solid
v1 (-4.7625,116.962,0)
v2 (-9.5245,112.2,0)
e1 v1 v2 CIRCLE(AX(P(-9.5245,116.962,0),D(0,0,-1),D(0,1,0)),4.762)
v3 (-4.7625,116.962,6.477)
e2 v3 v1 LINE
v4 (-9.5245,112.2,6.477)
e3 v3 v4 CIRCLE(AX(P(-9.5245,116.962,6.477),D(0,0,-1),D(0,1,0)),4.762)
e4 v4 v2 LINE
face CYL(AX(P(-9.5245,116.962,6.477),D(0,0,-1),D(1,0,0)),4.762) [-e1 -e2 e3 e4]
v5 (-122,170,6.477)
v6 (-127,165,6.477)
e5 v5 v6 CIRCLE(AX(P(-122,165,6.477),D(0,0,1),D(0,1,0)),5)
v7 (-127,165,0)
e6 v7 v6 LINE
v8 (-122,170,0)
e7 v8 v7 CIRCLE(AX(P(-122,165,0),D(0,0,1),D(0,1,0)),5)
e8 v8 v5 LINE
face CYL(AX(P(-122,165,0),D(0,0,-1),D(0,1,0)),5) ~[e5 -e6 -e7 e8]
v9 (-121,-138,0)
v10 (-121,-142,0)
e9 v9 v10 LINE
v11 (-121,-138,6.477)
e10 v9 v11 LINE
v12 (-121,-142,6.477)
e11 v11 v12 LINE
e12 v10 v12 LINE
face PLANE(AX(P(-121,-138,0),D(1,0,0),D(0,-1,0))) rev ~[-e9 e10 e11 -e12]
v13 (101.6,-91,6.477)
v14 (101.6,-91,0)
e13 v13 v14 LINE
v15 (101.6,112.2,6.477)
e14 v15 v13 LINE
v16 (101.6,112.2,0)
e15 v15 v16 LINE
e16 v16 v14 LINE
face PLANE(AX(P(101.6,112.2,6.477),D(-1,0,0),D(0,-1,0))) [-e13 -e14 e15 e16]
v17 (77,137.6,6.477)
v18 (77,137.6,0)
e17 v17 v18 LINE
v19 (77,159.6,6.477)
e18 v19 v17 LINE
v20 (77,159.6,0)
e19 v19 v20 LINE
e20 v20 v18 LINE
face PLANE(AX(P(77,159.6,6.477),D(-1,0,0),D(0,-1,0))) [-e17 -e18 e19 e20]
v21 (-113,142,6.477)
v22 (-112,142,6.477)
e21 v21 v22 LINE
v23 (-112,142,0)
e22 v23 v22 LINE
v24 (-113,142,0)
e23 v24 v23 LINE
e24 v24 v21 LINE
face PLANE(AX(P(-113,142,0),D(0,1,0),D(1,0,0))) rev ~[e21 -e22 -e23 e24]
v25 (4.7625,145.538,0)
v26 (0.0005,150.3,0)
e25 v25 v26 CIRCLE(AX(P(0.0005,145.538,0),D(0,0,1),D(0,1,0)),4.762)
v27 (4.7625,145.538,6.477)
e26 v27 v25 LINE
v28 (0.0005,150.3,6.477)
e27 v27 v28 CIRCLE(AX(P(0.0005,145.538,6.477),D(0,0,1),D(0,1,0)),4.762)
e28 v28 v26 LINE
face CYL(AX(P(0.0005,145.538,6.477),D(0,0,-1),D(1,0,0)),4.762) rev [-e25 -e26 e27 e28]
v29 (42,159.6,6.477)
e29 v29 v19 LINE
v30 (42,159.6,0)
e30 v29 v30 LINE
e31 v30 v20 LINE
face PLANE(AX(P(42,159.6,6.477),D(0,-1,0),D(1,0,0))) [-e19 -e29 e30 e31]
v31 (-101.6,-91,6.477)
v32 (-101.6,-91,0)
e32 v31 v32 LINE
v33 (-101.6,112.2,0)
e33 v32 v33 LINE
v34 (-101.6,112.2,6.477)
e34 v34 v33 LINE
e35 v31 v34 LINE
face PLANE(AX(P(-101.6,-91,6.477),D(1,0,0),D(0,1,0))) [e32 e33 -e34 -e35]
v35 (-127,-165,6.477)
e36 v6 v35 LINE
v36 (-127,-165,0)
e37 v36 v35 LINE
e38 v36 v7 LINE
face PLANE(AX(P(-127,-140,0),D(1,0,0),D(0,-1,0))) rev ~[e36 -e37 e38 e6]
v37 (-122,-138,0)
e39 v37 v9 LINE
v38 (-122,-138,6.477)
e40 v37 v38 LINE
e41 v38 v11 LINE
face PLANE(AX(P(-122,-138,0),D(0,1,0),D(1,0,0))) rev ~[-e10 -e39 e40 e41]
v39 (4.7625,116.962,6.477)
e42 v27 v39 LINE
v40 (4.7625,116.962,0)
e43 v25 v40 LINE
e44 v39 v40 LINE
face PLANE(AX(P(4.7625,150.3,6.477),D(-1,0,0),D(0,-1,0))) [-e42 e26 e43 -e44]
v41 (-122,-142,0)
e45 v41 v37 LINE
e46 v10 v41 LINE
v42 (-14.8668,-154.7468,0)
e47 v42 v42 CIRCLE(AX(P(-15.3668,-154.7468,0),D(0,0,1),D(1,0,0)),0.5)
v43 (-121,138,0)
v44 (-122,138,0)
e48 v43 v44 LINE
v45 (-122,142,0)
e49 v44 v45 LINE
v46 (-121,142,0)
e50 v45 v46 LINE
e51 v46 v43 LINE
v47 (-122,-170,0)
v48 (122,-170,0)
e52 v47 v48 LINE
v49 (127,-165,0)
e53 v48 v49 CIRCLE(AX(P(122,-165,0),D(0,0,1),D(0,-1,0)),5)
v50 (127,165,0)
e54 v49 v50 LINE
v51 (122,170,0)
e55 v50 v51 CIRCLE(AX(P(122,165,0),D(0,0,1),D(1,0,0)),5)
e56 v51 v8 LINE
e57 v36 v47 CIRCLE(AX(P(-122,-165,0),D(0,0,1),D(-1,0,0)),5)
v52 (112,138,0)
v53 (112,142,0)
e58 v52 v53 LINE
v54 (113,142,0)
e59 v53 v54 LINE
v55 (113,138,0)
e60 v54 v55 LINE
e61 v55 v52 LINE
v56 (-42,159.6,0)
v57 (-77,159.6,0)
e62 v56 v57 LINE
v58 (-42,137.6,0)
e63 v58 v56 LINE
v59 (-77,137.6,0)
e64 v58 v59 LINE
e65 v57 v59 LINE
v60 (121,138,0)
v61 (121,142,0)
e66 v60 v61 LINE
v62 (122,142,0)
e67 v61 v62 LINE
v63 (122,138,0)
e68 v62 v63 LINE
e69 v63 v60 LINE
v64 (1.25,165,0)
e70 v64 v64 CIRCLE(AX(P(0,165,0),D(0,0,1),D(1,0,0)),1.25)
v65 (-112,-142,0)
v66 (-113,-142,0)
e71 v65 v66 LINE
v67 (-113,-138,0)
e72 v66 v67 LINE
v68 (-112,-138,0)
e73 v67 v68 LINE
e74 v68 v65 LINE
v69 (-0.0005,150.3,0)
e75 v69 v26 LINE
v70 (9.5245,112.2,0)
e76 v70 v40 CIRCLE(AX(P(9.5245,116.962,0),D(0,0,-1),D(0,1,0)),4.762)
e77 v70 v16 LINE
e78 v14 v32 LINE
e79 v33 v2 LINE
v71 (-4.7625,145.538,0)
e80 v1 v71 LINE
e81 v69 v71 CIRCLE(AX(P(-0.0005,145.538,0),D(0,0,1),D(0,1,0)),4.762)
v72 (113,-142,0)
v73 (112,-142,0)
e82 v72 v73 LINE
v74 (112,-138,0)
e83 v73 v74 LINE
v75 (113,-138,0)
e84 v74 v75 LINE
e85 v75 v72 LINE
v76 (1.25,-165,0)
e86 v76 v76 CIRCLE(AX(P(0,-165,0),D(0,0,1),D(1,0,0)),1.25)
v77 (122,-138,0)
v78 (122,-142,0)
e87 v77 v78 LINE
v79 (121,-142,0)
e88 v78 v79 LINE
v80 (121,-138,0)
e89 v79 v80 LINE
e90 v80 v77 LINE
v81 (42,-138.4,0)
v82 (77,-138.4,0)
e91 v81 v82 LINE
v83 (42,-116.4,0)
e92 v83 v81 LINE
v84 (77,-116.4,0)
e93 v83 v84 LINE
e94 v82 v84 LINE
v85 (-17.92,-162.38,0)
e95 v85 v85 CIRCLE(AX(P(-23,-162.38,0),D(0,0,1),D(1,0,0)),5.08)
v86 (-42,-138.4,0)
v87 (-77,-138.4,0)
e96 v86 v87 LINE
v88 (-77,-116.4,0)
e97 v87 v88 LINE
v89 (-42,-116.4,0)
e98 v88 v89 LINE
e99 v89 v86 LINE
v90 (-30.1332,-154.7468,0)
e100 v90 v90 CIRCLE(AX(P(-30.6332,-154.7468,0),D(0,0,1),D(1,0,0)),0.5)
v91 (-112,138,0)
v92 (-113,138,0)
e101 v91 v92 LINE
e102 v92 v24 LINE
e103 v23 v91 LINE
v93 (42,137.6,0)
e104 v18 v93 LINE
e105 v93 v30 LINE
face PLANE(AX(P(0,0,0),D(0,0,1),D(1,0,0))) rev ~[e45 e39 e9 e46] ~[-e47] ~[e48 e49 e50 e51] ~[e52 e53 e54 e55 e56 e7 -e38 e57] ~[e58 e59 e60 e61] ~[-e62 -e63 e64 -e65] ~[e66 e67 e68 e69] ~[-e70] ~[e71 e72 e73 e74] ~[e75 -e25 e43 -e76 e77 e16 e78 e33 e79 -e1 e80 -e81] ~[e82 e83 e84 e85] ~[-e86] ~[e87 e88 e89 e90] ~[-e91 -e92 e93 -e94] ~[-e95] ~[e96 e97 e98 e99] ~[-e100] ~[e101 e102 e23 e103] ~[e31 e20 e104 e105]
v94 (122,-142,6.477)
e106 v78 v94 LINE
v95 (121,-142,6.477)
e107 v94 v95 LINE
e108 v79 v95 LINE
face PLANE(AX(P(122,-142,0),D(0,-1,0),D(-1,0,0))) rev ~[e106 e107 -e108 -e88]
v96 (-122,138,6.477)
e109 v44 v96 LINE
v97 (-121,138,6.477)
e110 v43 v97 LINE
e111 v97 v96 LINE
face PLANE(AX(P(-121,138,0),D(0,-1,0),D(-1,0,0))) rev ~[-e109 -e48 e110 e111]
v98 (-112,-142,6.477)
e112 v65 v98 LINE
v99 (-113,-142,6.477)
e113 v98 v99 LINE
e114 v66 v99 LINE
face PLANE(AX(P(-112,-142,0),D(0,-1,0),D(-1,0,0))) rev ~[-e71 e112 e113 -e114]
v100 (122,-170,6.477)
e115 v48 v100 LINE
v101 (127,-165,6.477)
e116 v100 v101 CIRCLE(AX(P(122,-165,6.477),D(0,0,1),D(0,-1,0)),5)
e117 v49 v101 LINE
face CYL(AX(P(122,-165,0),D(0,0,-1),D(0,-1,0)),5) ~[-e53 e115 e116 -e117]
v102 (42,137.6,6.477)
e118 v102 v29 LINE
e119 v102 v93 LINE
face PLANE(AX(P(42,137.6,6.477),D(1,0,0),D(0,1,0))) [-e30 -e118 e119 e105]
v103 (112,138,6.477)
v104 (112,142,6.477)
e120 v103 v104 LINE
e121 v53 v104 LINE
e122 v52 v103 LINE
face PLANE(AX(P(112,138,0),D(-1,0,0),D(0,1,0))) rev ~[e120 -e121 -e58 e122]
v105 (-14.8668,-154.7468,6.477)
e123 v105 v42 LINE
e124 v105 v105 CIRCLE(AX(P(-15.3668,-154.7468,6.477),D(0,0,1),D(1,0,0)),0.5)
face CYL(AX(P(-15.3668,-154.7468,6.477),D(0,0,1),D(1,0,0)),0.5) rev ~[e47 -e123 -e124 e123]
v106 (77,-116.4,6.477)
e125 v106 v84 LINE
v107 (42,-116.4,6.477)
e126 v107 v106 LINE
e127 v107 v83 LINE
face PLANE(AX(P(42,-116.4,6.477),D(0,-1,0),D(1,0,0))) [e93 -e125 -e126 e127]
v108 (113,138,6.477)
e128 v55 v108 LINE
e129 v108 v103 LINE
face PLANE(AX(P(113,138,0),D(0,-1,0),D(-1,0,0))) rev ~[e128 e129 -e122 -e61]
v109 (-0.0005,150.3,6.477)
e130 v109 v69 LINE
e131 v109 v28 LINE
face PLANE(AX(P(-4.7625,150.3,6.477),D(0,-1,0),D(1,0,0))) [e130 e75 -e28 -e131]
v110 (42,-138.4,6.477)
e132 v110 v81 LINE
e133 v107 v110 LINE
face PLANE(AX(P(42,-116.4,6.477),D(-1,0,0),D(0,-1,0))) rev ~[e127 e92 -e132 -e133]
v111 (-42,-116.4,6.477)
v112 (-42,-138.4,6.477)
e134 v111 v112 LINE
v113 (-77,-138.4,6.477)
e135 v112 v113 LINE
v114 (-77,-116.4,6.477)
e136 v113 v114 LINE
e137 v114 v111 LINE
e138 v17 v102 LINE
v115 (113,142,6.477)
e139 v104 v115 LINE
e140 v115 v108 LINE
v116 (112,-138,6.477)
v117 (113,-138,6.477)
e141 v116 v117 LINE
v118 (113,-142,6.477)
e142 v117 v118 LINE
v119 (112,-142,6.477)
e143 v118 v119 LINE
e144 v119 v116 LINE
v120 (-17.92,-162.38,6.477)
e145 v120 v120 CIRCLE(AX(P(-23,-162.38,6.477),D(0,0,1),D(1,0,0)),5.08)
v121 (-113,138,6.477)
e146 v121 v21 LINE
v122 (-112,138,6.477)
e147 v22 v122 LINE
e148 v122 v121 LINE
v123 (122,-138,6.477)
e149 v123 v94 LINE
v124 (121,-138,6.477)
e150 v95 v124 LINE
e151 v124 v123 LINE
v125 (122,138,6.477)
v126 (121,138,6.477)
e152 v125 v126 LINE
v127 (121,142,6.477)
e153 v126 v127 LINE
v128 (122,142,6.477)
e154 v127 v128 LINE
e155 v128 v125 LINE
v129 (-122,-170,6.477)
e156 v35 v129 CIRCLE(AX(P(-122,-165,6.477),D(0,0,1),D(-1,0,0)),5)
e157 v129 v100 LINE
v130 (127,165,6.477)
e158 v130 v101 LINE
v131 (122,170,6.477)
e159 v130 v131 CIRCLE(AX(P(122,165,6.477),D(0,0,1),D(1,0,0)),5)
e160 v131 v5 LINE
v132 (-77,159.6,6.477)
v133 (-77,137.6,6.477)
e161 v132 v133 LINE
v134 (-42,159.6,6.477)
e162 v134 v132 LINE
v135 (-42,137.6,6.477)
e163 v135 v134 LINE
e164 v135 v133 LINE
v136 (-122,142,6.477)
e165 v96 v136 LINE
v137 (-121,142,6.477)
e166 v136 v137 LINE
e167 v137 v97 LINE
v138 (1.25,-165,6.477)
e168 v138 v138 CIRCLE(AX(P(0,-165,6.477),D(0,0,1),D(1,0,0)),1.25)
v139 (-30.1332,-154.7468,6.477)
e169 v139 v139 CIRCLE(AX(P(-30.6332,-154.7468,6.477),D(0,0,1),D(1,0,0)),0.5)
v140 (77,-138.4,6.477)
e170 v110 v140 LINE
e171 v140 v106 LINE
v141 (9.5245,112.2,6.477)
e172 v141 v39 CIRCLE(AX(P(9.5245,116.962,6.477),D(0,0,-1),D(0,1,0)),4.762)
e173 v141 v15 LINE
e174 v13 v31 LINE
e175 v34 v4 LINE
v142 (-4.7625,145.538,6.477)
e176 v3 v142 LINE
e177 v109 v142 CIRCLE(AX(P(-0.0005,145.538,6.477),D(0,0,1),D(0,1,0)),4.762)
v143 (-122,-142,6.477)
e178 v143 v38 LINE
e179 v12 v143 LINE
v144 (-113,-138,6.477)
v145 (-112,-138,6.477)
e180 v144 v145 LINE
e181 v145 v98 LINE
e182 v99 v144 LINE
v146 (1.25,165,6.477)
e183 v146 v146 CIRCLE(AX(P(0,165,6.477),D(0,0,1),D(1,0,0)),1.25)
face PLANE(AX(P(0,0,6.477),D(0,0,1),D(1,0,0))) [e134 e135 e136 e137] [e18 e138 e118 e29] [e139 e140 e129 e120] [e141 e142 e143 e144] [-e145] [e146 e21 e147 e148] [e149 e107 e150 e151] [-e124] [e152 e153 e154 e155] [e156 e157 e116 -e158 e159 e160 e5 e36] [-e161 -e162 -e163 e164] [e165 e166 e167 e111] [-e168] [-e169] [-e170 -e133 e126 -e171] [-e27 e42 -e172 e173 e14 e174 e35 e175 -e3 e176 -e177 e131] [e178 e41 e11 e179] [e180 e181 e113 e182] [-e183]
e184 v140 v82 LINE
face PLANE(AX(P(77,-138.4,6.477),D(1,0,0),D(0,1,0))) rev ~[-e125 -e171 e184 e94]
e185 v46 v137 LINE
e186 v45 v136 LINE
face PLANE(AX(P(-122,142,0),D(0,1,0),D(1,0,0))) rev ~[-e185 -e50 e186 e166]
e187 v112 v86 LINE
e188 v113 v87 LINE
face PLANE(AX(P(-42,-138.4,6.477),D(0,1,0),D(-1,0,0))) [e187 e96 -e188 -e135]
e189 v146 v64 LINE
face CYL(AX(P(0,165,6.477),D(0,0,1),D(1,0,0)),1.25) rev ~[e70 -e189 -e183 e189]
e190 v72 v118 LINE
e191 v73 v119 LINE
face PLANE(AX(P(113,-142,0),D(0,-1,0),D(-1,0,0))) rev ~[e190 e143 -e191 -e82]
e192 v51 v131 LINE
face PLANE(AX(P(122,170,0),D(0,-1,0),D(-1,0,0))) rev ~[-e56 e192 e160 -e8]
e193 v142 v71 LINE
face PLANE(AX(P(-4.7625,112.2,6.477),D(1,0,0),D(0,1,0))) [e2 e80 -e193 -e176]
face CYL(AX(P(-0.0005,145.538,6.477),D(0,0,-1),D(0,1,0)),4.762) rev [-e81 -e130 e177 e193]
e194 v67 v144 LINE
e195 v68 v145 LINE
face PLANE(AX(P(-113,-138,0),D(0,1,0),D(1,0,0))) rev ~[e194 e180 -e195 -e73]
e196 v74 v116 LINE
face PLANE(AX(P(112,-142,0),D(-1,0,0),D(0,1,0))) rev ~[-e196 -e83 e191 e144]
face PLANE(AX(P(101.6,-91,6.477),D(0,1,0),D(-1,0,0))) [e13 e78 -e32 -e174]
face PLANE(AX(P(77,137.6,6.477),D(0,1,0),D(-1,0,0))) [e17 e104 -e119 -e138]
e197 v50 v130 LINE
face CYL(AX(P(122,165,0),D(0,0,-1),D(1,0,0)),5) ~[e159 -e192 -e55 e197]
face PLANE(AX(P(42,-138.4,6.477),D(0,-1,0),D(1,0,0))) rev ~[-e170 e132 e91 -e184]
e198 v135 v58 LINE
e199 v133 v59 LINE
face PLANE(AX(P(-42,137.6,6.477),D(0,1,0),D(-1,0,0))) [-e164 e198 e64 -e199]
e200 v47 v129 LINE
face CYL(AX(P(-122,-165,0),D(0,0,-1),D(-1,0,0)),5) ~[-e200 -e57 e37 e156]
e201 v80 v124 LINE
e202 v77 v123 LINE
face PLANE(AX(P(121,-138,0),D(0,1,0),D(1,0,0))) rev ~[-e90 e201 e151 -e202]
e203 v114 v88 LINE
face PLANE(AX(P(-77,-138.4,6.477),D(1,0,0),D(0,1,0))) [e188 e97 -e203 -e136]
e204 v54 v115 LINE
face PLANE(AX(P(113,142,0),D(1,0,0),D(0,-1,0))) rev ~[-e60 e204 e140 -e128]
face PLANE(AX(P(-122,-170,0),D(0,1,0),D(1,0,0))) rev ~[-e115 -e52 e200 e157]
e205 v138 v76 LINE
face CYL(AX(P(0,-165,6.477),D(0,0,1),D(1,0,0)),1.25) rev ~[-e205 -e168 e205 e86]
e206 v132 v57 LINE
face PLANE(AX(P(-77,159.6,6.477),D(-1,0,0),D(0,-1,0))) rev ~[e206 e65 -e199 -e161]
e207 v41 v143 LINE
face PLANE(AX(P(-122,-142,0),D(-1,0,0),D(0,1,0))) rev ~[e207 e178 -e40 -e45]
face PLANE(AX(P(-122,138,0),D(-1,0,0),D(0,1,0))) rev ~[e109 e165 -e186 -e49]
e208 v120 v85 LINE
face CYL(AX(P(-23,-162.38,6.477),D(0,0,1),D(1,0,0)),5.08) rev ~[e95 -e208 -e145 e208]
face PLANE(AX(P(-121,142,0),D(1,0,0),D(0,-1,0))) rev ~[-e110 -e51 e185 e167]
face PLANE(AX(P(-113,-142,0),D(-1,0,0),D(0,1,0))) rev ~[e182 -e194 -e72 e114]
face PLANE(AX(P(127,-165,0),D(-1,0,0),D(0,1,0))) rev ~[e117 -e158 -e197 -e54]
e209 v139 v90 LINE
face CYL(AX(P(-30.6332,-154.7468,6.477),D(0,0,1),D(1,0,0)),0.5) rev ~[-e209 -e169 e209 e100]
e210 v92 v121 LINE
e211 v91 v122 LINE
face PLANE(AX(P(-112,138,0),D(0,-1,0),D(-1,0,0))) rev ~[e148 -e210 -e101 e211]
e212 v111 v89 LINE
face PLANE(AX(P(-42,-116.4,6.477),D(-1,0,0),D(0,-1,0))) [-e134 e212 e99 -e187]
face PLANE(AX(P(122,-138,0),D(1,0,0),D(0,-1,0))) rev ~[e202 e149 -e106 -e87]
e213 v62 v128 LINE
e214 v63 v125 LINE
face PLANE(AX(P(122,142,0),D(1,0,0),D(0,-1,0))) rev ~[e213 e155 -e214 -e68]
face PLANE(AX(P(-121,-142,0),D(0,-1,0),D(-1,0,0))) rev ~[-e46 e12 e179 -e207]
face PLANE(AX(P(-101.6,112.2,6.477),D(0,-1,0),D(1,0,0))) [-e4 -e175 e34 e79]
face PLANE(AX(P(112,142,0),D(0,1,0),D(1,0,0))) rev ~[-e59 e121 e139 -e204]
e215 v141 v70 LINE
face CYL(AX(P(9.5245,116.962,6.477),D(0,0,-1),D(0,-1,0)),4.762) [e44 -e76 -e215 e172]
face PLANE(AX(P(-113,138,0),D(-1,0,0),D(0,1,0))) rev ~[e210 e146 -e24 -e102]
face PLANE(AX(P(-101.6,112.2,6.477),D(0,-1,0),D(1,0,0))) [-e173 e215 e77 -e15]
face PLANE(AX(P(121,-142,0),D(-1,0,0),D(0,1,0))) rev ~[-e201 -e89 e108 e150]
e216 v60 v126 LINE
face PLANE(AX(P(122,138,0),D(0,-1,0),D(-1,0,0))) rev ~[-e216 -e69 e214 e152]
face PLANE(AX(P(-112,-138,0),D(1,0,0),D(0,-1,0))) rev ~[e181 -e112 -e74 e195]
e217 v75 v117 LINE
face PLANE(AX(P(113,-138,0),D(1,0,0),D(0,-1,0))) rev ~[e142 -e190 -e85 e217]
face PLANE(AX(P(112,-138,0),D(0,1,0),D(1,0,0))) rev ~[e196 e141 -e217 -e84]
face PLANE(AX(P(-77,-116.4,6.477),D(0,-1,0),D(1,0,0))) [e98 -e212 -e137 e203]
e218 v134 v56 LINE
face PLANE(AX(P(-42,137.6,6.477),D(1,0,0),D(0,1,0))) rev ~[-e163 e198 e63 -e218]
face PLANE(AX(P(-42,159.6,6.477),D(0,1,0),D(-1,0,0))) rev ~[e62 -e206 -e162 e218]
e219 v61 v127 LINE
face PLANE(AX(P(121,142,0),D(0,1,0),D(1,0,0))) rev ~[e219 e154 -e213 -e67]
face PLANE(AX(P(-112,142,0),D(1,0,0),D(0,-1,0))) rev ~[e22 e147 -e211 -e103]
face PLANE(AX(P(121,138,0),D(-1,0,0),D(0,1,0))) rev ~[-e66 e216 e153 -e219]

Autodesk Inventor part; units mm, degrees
ref_plane "YZ Plane" through (0, 0, 0) normal (1, 0, 0) x (0, 1, 0)
ref_plane "XZ Plane" through (0, 0, 0) normal (0, 1, 0) x (-1, 0, 0)
ref_plane "XY Plane" through (0, 0, 0) normal (0, 0, 1) x (1, 0, 0)
sketch "Sketch1" plane through (0, 0, 0) normal (0, 0, 1) x (1, 0, 0)
  arc A0 (127, -140) -> (122, -135) centre (122, -140) ccw projected
  line L0 (122, -135) -> (119.8284, -135) projected
  line L1 (119.8284, -135) -> (119.8284, -145) projected
  line L2 (119.8284, -145) -> (114.1716, -145) projected
  line L3 (114.1716, -145) -> (114.1716, -135) projected
  line L4 (114.1716, -135) -> (109.5, -135) projected
  arc A1 (107, -132.5) -> (109.5, -135) centre (109.5, -132.5) ccw projected
  line L5 (107, -132.5) -> (107, 132.5) projected
  arc A2 (109.5, 135) -> (107, 132.5) centre (109.5, 132.5) ccw projected
  line L6 (109.5, 135) -> (114.1716, 135) projected
  line L7 (114.1716, 135) -> (114.1716, 145) projected
  line L8 (114.1716, 145) -> (119.8284, 145) projected
  line L9 (119.8284, 145) -> (119.8284, 135) projected
  line L10 (119.8284, 135) -> (122, 135) projected
  arc A3 (122, 135) -> (127, 140) centre (122, 140) ccw projected
  line L11 (127, 140) -> (127, 165) projected
  arc A4 (127, 165) -> (122, 170) centre (122, 165) ccw projected
  line L12 (122, 170) -> (-122, 170) projected
  arc A5 (-122, 170) -> (-127, 165) centre (-122, 165) ccw projected
  line L13 (-127, 165) -> (-127, 140) projected
  arc A6 (-127, 140) -> (-122, 135) centre (-122, 140) ccw projected
  line L14 (-122, 135) -> (-119.8284, 135) projected
  line L15 (-119.8284, 135) -> (-119.8284, 145) projected
  line L16 (-119.8284, 145) -> (-114.1716, 145) projected
  line L17 (-114.1716, 145) -> (-114.1716, 135) projected
  line L18 (-114.1716, 135) -> (-109.5, 135) projected
  arc A7 (-107, 132.5) -> (-109.5, 135) centre (-109.5, 132.5) ccw projected
  line L19 (-107, 132.5) -> (-107, -132.5) projected
  arc A8 (-109.5, -135) -> (-107, -132.5) centre (-109.5, -132.5) ccw projected
  line L20 (-109.5, -135) -> (-114.1716, -135) projected
  line L21 (-114.1716, -135) -> (-114.1716, -145) projected
  line L22 (-114.1716, -145) -> (-119.8284, -145) projected
  line L23 (-119.8284, -145) -> (-119.8284, -135) projected
  line L24 (-119.8284, -135) -> (-122, -135) projected
  arc A9 (-122, -135) -> (-127, -140) centre (-122, -140) ccw projected
  line L25 (-127, -140) -> (-127, -165) projected
  arc A10 (-127, -165) -> (-122, -170) centre (-122, -165) ccw projected
  line L26 (-122, -170) -> (122, -170) projected
  arc A11 (122, -170) -> (127, -165) centre (122, -165) ccw projected
  line L27 (127, -165) -> (127, -140) projected
  line L28 (113, -142) -> (112, -142) projected
  line L29 (112, -142) -> (112, -138) projected
  line L30 (112, -138) -> (113, -138) projected
  line L31 (113, -138) -> (113, -142) projected
  line L32 (121, -142) -> (121, -138) projected
  line L33 (121, -138) -> (122, -138) projected
  line L34 (122, -138) -> (122, -142) projected
  line L35 (122, -142) -> (121, -142) projected
  line L36 (-112, -142) -> (-113, -142) projected
  line L37 (-113, -142) -> (-113, -138) projected
  line L38 (-113, -138) -> (-112, -138) projected
  line L39 (-112, -138) -> (-112, -142) projected
  line L40 (-121, -138) -> (-121, -142) projected
  line L41 (-121, -142) -> (-122, -142) projected
  line L42 (-122, -142) -> (-122, -138) projected
  line L43 (-122, -138) -> (-121, -138) projected
  line L44 (112, 142) -> (113, 142) projected
  line L45 (113, 142) -> (113, 138) projected
  line L46 (113, 138) -> (112, 138) projected
  line L47 (112, 138) -> (112, 142) projected
  line L48 (121, 138) -> (121, 142) projected
  line L49 (121, 142) -> (122, 142) projected
  line L50 (122, 142) -> (122, 138) projected
  line L51 (122, 138) -> (121, 138) projected
  line L52 (-122, 138) -> (-122, 142) projected
  line L53 (-122, 142) -> (-121, 142) projected
  line L54 (-121, 142) -> (-121, 138) projected
  line L55 (-121, 138) -> (-122, 138) projected
  line L56 (-112, 142) -> (-112, 138) projected
  line L57 (-112, 138) -> (-113, 138) projected
  line L58 (-113, 138) -> (-113, 142) projected
  line L59 (-113, 142) -> (-112, 142) projected
  line L60 (-127, 140) -> (-127, -140)
  line L61 (127, -140) -> (127, 140)
  arc A12 (20.5, 83.5) -> (-1.5, 83.5) centre (9.5, 83.5) ccw projected
  line L62 (20.5, 83.5) -> (20.5, -116.5) projected
  arc A13 (-1.5, -116.5) -> (20.5, -116.5) centre (9.5, -116.5) ccw projected
  line L63 (-1.5, -116.5) -> (-1.5, 83.5) projected
  line L64 (42, -96.4) -> (77, -96.4) projected
  line L65 (77, -96.4) -> (77, -138.4) projected
  line L66 (77, -138.4) -> (42, -138.4) projected
  line L67 (42, -138.4) -> (42, -96.4) projected
  line L68 (77, 117.6) -> (42, 117.6) projected
  line L69 (42, 117.6) -> (42, 159.6) projected
  line L70 (42, 159.6) -> (77, 159.6) projected
  line L71 (77, 159.6) -> (77, 117.6) projected
  line L72 (-77, -96.4) -> (-42, -96.4) projected
  line L73 (-42, -96.4) -> (-42, -138.4) projected
  line L74 (-42, -138.4) -> (-77, -138.4) projected
  line L75 (-77, -138.4) -> (-77, -96.4) projected
  line L76 (-42, 117.6) -> (-77, 117.6) projected
  line L77 (-77, 117.6) -> (-77, 159.6) projected
  line L78 (-77, 159.6) -> (-42, 159.6) projected
  line L79 (-42, 159.6) -> (-42, 117.6) projected
  circle A14 centre (0, 165) radius 1.25 projected
  circle A15 centre (0, -165) radius 1.25 projected
  circle A16 centre (-23, -162.38) radius 3.175 projected
  circle A17 centre (-30.6332, -154.7468) radius 0.5 projected
  circle A18 centre (-15.3668, -154.7468) radius 0.5 projected
  point P0 (0, 0)
extrude "Extrusion1" add sketch "Sketch1" along normal blind 6.477 contours L27 A11 L26 A10 L25 A9 L24 L23 L22 L21 L20 A8 L19 A7 L18 L17 L16 L15 L14 A6 L13 A5 L12 A4 L11 A3 L10 L9 L8 L7 L6 A2 L5 A1 L4 L3 L2 L1 L0 A0 | A0 L0 L1 L2 L3 L4 A1 L5 A2 L6 L7 L8 L9 L10 A3 L61 | L60 A6 L14 L15 L16 L17 L18 A7 L19 A8 L20 L21 L22 L23 L24 A9 | L62 A13 L63 A12 | L64 L65 L66 L67 | L68 L69 L70 L71 | L72 L73 L74 L75 | L76 L77 L78 L79 | A14 | A15 | A16 | A17 | A18
sketch "Sketch2" plane through (0, 0, 6.477) normal (0, 0, 1) x (1, 0, 0)
  line L0 (-122, -170) -> (122, -170) projected
  line L1 (-101.6, 112.2) -> (101.6, 112.2)
  line L2 (101.6, 112.2) -> (101.6, -91)
  line L3 (101.6, -91) -> (-101.6, -91)
  line L4 (-101.6, -91) -> (-101.6, 112.2)
  point P0 (0, 0)
  point P1 (0, -91)
  dimension "d2" = 203.2
  dimension "d4" = 79
extrude "Extrusion2" cut sketch "Sketch2" against normal through all
sketch "Sketch3" plane through (0, 0, 6.477) normal (0, 0, 1) x (1, 0, 0)
  line L0 (-127, 165) -> (-127, -165) projected
  line L1 (127, 137.6) -> (-127, 137.6) projected
  line L2 (-127, -116.4) -> (127, -116.4) projected
  line L3 (-77, -116.4) -> (-42, -116.4)
  line L4 (-42, -116.4) -> (-42, -138.4)
  line L5 (-42, -138.4) -> (-77, -138.4)
  line L6 (-77, -138.4) -> (-77, -116.4)
  line L7 (77, -116.4) -> (42, -116.4)
  line L8 (42, -116.4) -> (42, -138.4)
  line L9 (42, -138.4) -> (77, -138.4)
  line L10 (77, -138.4) -> (77, -116.4)
  line L11 (-77, 137.6) -> (-42, 137.6)
  line L12 (-42, 137.6) -> (-42, 159.6)
  line L13 (-42, 159.6) -> (-77, 159.6)
  line L14 (-77, 159.6) -> (-77, 137.6)
  line L15 (77, 137.6) -> (42, 137.6)
  line L16 (42, 137.6) -> (42, 159.6)
  line L17 (42, 159.6) -> (77, 159.6)
  line L18 (77, 159.6) -> (77, 137.6)
  line L19 (-42, -138.4) -> (42, -138.4)
  line L20 (-42, 159.6) -> (42, 159.6)
  point P0 (0, 0)
  point P1 (0, -138.4)
  point P2 (0, -116.4)
  point P3 (0, 159.6)
  dimension "d7" = 22
  dimension "d9" = 35
  dimension "d10" = 50
extrude "Extrusion3" cut sketch "Sketch3" against normal through all contours L2 L4 L5 L6 | L14 L13 L12 L1 | L16 L17 L18 L1 | L2 L10 L9 L8
sketch "Sketch4" plane through (0, 0, 6.477) normal (0, 0, 1) x (1, 0, 0)
  circle A0 centre (0, 165) radius 1.25 projected
  circle A1 centre (0, -165) radius 1.25 projected
  point P0 (0, 0)
extrude "Extrusion4" cut sketch "Sketch4" against normal through all
sketch "Sketch5" plane through (0, 0, 6.477) normal (0, 0, 1) x (1, 0, 0)
  circle A0 centre (-23, -162.38) radius 5.08 projected
  point P0 (0, 0)
extrude "Extrusion5" cut sketch "Sketch5" against normal through all
sketch "Sketch6" plane through (0, 0, 6.477) normal (0, 0, 1) x (1, 0, 0)
  circle A0 centre (-30.6332, -154.7468) radius 0.5 projected
  circle A1 centre (-15.3668, -154.7468) radius 0.5 projected
  circle A2 centre (-23, -162.38) radius 5.08 projected
  line L0 (-15.5, -150) -> (-30.5, -150) projected
  line L1 (-35.5, -155) -> (-35.5, -165) projected
  line L2 (-30.5, -170) -> (-15.5, -170) projected
  line L3 (-10.5, -165) -> (-10.5, -155) projected
  arc A3 (-30.5, -150) -> (-35.5, -155) centre (-30.5, -155) ccw projected
  arc A4 (-35.5, -165) -> (-30.5, -170) centre (-30.5, -165) ccw projected
  arc A5 (-15.5, -170) -> (-10.5, -165) centre (-15.5, -165) ccw projected
  arc A6 (-10.5, -155) -> (-15.5, -150) centre (-15.5, -155) ccw projected
  point P0 (0, 0)
extrude "Extrusion6" cut sketch "Sketch6" against normal through all contours A0 | A1
sketch "Sketch7" plane through (0, 0, 6.477) normal (0, 0, 1) x (1, 0, 0)
  line L0 (-101.6, 112.2) -> (101.6, 112.2) projected
  line L1 (4.7625, 112.2) -> (-4.7625, 112.2)
  line L2 (-4.7625, 112.2) -> (-4.7625, 150.3)
  line L3 (-4.7625, 150.3) -> (4.7625, 150.3)
  line L4 (4.7625, 150.3) -> (4.7625, 112.2)
  point P0 (0, 0)
  point P1 (0, 150.3)
  point P2 (0, 112.2)
  dimension "d19" = 38.1
  dimension "d21" = 9.525
extrude "Extrusion7" cut sketch "Sketch7" against normal through all
fillet "Fillet1" radius 4.7625 4 edges at (4.7625, 112.2, 3.2385) (-4.7625, 112.2, 3.2385) (-4.7625, 150.3, 3.2385) (4.7625, 150.3, 3.2385)
properties part number "BED HOT BED INSET"
